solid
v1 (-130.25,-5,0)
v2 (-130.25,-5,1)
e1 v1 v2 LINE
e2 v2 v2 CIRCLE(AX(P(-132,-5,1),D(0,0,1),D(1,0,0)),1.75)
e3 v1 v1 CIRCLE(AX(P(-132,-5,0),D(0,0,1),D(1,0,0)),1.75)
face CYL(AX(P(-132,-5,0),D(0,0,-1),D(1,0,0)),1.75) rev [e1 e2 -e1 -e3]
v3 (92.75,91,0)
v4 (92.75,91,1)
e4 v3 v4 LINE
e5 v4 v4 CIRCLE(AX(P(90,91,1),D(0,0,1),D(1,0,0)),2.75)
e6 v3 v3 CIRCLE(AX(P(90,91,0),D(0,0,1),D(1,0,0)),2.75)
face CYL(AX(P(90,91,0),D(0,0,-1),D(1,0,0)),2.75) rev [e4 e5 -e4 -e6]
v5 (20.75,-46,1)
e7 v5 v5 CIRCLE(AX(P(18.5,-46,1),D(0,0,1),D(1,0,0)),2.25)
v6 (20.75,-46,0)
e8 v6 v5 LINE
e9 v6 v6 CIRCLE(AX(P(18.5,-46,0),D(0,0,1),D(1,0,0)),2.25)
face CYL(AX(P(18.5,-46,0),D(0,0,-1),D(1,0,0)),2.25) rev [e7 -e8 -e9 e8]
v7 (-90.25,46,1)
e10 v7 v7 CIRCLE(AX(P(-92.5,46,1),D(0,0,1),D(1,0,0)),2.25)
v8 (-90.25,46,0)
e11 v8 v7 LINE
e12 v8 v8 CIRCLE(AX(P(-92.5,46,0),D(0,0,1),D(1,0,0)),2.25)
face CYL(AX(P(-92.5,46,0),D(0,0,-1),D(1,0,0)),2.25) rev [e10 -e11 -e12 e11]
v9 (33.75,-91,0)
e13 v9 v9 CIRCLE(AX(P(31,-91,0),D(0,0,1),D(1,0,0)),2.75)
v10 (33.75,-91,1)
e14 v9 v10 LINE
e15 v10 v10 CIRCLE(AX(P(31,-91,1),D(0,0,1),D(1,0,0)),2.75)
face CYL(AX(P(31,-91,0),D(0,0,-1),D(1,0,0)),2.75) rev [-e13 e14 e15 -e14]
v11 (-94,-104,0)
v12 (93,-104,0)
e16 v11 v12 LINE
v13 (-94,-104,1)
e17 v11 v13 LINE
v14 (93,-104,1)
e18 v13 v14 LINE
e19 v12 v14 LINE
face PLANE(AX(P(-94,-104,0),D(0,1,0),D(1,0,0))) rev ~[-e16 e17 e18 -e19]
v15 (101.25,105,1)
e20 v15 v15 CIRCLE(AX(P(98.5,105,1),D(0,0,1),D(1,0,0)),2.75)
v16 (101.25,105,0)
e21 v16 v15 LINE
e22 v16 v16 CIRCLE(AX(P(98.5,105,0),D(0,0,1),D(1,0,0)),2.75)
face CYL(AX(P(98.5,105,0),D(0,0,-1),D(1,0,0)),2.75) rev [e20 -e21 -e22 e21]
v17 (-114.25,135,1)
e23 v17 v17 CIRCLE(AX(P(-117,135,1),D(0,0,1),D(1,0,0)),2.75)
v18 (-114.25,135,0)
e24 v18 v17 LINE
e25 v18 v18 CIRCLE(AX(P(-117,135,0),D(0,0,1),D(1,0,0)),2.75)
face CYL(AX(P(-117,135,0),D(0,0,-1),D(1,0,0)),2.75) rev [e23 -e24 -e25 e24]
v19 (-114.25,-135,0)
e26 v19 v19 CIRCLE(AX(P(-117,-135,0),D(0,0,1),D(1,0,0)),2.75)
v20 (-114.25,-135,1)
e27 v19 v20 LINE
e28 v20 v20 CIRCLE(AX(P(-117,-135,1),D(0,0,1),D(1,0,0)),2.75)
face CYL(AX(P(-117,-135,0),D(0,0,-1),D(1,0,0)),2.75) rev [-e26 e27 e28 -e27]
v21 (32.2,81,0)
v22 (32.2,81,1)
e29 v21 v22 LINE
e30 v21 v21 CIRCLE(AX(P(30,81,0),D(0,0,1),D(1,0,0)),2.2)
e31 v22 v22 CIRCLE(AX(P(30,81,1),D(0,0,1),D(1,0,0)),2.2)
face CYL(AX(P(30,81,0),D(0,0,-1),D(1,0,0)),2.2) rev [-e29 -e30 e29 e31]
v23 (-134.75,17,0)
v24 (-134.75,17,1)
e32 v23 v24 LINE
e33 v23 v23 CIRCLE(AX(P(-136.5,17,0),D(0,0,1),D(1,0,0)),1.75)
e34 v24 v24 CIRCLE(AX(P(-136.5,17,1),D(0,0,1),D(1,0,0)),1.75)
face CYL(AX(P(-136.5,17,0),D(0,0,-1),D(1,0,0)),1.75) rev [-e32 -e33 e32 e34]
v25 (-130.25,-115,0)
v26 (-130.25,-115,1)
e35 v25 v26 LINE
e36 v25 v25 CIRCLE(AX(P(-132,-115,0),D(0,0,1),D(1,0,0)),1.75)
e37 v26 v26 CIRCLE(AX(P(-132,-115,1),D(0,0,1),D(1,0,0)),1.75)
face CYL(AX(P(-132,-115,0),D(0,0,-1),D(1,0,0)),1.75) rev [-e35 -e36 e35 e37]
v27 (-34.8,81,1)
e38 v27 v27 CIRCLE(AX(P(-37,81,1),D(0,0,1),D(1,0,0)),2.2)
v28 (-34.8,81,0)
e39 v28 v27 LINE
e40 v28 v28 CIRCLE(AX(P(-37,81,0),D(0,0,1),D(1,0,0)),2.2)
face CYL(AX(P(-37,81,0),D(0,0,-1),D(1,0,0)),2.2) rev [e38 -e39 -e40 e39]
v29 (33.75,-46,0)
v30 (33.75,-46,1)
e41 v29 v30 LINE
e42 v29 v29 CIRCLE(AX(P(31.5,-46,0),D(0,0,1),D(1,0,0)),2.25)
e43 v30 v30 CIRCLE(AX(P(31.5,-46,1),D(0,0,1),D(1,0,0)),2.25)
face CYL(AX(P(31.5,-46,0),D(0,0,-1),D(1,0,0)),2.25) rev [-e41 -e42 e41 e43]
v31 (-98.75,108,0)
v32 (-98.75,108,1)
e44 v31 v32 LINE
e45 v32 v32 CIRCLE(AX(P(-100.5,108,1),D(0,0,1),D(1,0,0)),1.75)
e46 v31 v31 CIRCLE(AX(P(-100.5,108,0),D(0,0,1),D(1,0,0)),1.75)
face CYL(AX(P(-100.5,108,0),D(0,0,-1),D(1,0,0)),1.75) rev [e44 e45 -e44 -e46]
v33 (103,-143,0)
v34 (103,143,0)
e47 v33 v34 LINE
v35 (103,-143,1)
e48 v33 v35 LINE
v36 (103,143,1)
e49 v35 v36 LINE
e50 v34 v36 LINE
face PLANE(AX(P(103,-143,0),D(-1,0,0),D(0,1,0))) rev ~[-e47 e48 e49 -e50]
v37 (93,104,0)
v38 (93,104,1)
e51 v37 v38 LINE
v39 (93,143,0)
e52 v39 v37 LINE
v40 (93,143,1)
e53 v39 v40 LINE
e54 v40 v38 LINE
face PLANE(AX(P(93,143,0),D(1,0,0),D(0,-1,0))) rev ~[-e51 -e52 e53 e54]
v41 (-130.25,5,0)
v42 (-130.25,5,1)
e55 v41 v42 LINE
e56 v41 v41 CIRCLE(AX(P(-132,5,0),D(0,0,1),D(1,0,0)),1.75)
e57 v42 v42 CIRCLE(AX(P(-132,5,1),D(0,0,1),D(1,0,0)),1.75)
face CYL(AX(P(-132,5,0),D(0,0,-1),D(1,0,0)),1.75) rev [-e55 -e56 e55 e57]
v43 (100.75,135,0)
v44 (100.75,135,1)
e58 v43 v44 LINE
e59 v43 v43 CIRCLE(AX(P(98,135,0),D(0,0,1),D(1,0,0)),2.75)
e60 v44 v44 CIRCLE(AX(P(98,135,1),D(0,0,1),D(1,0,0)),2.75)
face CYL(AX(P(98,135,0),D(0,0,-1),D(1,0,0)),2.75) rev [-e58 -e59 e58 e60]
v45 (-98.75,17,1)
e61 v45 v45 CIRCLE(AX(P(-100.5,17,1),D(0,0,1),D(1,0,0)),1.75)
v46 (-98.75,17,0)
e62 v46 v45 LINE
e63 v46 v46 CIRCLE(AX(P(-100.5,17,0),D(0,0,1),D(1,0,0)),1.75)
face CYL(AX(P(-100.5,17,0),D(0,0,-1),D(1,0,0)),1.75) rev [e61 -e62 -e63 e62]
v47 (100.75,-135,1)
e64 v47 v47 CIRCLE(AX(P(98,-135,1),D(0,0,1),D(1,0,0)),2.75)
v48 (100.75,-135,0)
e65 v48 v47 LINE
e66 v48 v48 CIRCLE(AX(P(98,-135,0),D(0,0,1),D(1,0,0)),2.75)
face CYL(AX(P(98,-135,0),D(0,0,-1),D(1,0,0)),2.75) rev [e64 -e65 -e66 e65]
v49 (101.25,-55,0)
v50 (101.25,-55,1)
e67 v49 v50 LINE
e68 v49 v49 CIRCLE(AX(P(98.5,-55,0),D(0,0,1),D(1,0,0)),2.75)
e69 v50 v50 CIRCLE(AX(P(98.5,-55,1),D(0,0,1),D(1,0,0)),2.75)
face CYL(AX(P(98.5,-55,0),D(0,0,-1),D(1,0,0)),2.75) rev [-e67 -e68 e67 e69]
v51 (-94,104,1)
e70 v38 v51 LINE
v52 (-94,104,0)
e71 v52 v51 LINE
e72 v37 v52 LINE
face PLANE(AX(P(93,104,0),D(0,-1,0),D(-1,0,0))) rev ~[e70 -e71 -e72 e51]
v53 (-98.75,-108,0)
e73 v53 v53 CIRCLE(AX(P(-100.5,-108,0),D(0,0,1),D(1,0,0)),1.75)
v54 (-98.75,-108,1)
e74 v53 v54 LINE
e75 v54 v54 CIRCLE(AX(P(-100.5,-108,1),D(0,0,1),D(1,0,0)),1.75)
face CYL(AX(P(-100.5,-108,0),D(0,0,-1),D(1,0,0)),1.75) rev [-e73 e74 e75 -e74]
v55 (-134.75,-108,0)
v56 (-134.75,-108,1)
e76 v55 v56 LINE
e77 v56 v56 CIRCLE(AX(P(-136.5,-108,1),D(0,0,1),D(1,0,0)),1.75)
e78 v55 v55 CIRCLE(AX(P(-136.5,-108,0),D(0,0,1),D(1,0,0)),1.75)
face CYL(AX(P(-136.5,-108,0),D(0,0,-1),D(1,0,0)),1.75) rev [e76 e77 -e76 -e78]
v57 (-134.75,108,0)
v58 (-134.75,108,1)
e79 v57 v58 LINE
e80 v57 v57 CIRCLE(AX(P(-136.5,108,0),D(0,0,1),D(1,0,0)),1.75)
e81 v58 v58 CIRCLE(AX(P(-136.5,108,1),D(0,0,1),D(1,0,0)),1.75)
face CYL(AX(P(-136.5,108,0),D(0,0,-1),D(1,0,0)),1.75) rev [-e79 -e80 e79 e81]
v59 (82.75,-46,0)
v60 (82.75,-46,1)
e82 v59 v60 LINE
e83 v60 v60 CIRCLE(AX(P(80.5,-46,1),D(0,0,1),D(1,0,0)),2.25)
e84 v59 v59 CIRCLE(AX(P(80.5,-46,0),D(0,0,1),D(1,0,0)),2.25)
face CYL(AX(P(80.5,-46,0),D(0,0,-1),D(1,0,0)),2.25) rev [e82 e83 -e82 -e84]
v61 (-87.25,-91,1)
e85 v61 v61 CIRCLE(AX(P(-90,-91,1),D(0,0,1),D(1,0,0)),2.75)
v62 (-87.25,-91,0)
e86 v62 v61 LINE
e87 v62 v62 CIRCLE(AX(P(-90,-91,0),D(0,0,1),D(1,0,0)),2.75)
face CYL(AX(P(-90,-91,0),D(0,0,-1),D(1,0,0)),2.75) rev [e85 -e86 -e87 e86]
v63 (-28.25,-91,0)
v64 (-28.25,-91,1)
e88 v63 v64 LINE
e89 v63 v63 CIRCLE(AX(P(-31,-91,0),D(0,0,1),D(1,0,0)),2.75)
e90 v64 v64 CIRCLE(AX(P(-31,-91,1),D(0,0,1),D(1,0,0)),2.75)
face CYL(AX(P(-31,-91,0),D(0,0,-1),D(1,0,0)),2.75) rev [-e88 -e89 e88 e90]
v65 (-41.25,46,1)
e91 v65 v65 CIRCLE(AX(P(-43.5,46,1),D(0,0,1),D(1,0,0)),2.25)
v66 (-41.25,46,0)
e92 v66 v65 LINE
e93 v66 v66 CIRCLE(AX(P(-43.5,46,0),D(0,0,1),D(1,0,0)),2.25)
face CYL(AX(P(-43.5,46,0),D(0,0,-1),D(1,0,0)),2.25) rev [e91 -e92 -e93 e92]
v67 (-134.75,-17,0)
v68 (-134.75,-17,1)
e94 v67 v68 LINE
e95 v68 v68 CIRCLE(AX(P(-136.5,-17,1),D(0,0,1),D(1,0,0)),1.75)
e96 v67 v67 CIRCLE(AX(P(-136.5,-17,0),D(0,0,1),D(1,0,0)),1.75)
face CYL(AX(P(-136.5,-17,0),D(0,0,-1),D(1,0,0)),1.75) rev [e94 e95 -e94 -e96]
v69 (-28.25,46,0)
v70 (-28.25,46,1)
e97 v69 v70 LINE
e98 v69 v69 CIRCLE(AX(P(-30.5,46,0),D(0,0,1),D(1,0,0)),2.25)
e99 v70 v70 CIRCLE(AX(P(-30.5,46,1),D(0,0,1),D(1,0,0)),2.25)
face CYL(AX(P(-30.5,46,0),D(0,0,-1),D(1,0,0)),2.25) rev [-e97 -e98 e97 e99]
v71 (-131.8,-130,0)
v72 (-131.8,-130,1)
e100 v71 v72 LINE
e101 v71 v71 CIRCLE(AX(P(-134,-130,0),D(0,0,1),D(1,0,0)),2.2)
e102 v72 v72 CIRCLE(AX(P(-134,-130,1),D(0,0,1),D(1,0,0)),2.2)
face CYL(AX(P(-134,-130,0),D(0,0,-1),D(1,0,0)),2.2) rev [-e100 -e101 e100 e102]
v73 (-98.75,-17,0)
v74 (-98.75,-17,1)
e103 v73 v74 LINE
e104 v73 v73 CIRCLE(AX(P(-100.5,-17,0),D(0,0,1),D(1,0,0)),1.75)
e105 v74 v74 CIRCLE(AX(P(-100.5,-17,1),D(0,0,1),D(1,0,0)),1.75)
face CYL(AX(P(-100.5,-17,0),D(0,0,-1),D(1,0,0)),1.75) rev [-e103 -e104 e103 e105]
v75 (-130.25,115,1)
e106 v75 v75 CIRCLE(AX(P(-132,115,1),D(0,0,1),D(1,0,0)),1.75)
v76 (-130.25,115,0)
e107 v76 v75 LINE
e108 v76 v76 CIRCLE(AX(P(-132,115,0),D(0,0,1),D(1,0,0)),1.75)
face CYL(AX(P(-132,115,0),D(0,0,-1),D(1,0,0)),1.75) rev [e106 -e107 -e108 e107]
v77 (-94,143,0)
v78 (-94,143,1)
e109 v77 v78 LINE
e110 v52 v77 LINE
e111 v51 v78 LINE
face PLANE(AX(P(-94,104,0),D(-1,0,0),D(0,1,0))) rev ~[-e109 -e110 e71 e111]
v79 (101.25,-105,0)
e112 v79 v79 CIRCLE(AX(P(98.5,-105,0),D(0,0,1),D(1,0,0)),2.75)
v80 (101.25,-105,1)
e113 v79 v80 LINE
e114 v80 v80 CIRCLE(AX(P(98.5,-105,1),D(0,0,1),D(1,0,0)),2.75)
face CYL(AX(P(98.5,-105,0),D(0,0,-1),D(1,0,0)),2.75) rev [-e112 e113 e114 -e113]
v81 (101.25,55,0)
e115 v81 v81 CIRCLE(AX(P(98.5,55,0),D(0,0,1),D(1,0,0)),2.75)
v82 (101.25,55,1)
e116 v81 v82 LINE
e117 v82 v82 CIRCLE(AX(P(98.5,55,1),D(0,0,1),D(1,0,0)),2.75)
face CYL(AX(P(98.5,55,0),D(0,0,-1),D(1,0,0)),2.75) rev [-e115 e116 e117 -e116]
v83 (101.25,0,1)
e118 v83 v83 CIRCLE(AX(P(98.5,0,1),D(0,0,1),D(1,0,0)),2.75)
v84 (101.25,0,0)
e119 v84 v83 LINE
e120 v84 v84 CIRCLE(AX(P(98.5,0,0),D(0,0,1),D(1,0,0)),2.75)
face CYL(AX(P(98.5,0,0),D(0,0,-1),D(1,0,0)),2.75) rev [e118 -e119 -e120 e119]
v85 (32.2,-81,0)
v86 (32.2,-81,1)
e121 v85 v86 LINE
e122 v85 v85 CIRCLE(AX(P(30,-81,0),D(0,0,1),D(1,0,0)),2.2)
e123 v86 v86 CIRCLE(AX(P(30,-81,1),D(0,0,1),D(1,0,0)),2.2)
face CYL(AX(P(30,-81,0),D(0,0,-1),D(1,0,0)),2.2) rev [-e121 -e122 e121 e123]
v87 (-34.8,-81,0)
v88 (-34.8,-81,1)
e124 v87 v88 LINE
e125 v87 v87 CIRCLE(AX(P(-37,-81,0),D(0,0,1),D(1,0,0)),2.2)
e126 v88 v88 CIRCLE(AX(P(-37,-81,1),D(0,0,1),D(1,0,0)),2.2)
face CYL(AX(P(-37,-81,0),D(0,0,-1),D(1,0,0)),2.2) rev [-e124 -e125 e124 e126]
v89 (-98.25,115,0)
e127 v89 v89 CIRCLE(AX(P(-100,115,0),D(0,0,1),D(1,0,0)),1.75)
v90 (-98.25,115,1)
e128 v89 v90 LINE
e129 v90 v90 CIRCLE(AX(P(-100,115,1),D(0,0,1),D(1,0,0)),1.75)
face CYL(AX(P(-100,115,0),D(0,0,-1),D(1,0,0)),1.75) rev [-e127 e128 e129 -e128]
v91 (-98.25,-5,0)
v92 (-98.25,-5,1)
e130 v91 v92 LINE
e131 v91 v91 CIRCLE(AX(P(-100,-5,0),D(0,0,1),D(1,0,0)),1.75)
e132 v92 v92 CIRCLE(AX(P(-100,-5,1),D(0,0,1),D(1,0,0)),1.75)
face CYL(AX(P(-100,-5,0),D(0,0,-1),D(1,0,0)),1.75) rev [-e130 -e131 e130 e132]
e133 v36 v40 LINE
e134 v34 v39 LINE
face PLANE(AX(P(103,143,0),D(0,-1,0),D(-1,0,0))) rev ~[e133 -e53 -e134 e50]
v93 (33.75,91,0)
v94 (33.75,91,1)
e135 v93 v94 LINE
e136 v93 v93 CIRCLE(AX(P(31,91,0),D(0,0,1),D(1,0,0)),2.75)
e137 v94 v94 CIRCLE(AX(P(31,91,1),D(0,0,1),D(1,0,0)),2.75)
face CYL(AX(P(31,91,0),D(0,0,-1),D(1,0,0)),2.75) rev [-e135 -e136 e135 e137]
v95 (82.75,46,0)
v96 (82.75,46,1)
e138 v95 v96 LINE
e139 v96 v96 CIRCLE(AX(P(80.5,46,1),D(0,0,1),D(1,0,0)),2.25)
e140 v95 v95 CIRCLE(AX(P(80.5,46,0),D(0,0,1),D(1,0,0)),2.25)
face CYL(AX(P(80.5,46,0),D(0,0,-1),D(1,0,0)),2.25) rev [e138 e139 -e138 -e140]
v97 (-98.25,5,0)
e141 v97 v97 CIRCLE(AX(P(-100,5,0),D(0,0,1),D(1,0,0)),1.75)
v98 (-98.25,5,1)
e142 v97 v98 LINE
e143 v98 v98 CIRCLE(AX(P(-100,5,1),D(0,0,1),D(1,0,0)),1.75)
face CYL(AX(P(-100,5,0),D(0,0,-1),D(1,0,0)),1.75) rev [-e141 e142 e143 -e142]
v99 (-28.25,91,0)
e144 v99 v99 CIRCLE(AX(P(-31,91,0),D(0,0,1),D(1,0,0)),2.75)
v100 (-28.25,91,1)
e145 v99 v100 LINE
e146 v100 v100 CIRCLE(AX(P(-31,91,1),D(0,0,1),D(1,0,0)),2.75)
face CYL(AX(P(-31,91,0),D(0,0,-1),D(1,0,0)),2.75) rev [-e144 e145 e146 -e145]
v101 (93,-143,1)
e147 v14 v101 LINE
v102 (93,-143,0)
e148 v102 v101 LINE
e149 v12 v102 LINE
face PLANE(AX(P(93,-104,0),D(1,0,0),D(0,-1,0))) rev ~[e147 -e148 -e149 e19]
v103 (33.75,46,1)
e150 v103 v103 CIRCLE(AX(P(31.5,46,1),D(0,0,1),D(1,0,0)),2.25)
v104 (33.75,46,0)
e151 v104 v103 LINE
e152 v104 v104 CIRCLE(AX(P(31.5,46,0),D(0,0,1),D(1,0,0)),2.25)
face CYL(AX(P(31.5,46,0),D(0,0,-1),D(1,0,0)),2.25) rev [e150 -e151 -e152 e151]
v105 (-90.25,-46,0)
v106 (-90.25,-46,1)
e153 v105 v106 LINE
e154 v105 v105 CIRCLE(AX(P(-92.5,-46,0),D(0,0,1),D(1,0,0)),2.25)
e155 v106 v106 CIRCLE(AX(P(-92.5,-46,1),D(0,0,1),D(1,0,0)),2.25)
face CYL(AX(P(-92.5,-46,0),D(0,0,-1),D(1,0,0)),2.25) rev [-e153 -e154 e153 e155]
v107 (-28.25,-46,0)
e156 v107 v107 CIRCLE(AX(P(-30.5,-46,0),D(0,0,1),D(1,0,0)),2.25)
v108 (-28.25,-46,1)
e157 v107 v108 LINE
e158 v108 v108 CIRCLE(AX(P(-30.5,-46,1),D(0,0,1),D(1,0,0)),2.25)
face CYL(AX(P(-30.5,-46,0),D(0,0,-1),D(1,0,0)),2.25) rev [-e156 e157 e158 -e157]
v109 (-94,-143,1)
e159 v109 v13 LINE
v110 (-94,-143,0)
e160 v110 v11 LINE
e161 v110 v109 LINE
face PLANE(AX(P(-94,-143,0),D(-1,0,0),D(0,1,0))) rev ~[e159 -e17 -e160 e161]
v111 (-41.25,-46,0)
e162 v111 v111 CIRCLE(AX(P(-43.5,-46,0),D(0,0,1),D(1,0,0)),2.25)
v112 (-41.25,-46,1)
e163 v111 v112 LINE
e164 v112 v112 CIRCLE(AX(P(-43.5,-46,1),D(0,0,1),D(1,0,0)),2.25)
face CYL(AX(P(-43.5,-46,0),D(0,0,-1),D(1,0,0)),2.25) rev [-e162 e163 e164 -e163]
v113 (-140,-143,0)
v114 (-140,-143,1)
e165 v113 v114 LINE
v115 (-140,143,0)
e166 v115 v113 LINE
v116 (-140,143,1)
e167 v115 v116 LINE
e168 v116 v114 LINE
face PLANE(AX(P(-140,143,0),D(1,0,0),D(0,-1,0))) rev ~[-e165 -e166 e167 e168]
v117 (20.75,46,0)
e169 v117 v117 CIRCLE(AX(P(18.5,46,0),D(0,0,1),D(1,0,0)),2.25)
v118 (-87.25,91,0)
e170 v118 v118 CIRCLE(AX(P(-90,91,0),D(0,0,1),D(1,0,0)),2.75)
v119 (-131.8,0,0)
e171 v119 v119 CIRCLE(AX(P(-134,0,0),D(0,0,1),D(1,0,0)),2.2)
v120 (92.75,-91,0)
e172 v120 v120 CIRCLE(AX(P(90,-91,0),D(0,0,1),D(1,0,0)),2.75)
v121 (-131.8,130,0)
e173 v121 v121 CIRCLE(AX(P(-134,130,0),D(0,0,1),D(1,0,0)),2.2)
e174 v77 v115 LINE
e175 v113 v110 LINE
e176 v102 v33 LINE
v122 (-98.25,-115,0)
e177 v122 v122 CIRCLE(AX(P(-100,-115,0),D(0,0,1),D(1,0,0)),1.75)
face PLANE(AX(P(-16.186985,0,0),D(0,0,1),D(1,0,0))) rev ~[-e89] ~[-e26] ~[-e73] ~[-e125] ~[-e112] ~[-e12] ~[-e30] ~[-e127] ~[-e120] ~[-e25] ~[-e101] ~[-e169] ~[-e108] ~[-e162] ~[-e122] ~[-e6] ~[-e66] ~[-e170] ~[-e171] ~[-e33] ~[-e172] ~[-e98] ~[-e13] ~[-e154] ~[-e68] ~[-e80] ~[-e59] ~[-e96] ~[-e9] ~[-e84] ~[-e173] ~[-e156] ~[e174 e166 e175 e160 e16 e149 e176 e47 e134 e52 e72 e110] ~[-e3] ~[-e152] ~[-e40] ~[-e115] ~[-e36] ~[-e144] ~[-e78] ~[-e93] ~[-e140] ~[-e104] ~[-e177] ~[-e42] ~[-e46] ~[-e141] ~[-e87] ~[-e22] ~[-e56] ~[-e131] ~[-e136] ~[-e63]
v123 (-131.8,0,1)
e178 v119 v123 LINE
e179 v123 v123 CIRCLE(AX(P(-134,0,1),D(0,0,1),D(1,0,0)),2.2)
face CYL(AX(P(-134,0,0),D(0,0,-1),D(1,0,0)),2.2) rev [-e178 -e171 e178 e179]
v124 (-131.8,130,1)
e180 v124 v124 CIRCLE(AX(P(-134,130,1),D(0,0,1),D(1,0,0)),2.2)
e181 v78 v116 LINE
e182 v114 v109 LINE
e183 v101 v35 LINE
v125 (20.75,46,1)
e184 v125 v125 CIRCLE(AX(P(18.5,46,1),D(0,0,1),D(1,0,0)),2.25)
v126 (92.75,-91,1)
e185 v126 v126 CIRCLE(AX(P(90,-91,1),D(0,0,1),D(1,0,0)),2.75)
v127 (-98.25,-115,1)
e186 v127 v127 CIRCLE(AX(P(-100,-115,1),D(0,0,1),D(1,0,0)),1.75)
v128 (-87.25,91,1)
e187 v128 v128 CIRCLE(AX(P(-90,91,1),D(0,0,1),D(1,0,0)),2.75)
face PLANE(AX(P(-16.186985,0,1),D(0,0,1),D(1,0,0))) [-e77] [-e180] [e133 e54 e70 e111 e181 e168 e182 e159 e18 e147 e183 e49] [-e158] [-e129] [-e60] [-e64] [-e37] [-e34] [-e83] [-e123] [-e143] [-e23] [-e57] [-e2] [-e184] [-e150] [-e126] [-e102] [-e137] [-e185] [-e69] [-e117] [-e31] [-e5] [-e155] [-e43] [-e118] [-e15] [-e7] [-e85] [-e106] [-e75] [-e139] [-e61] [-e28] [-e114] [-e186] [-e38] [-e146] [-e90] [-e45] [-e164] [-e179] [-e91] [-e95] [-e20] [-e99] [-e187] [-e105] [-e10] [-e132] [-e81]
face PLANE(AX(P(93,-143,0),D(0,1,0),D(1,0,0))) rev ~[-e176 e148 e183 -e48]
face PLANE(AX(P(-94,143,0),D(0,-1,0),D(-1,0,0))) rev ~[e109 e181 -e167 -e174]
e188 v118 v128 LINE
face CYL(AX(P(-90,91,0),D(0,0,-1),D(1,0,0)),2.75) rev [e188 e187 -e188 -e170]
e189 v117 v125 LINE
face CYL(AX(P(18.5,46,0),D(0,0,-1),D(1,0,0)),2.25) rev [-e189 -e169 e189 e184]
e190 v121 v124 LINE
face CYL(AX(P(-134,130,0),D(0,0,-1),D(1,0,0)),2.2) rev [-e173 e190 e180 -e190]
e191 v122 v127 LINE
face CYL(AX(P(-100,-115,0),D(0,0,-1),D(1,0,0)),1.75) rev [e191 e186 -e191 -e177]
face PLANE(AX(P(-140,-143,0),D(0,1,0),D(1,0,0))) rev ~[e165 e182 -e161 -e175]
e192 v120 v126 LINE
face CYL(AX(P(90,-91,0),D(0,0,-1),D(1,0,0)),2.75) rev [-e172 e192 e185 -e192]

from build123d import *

# Parameters (mm, degrees)
FLOOR_MOUNT_AND_JOINT_HOLES_PROFILE_R   = 2.75
FLOOR_MOUNT_AND_JOINT_HOLES_PROFILE_R_2 = 1.75
FLOOR_MOUNT_AND_JOINT_HOLES_PROFILE_R_3 = 2.25
FLOOR_MOUNT_AND_JOINT_HOLES_PROFILE_R_4 = 2.2
FLOOR_MOUNT_AND_JOINT_HOLES_DEPTH       = 1


with BuildPart() as part:
    # Floor, mount and joint holes profile → Floor, mount and joint holes (new body)
    with BuildSketch(Plane.XY):
        Polygon((-140, -143), (-94, -143), (-94, -104), (93, -104), (93, -143), (103, -143), (103, 143), (93, 143), (93, 104), (-94, 104), (-94, 143), (-140, 143), align=None)
        with Locations((-90, -91)):
            Circle(FLOOR_MOUNT_AND_JOINT_HOLES_PROFILE_R, mode=Mode.SUBTRACT)
        with Locations((-90, 91)):
            Circle(FLOOR_MOUNT_AND_JOINT_HOLES_PROFILE_R, mode=Mode.SUBTRACT)
        with Locations((-31, -91)):
            Circle(FLOOR_MOUNT_AND_JOINT_HOLES_PROFILE_R, mode=Mode.SUBTRACT)
        with Locations((-31, 91)):
            Circle(FLOOR_MOUNT_AND_JOINT_HOLES_PROFILE_R, mode=Mode.SUBTRACT)
        with Locations((31, -91)):
            Circle(FLOOR_MOUNT_AND_JOINT_HOLES_PROFILE_R, mode=Mode.SUBTRACT)
        with Locations((31, 91)):
            Circle(FLOOR_MOUNT_AND_JOINT_HOLES_PROFILE_R, mode=Mode.SUBTRACT)
        with Locations((90, -91)):
            Circle(FLOOR_MOUNT_AND_JOINT_HOLES_PROFILE_R, mode=Mode.SUBTRACT)
        with Locations((90, 91)):
            Circle(FLOOR_MOUNT_AND_JOINT_HOLES_PROFILE_R, mode=Mode.SUBTRACT)
        with Locations((-136.5, -108)):
            Circle(FLOOR_MOUNT_AND_JOINT_HOLES_PROFILE_R_2, mode=Mode.SUBTRACT)
        with Locations((-136.5, -17)):
            Circle(FLOOR_MOUNT_AND_JOINT_HOLES_PROFILE_R_2, mode=Mode.SUBTRACT)
        with Locations((-136.5, 17)):
            Circle(FLOOR_MOUNT_AND_JOINT_HOLES_PROFILE_R_2, mode=Mode.SUBTRACT)
        with Locations((-136.5, 108)):
            Circle(FLOOR_MOUNT_AND_JOINT_HOLES_PROFILE_R_2, mode=Mode.SUBTRACT)
        with Locations((-100.5, -108)):
            Circle(FLOOR_MOUNT_AND_JOINT_HOLES_PROFILE_R_2, mode=Mode.SUBTRACT)
        with Locations((-100.5, -17)):
            Circle(FLOOR_MOUNT_AND_JOINT_HOLES_PROFILE_R_2, mode=Mode.SUBTRACT)
        with Locations((-100.5, 17)):
            Circle(FLOOR_MOUNT_AND_JOINT_HOLES_PROFILE_R_2, mode=Mode.SUBTRACT)
        with Locations((-100.5, 108)):
            Circle(FLOOR_MOUNT_AND_JOINT_HOLES_PROFILE_R_2, mode=Mode.SUBTRACT)
        with Locations((-92.5, -46)):
            Circle(FLOOR_MOUNT_AND_JOINT_HOLES_PROFILE_R_3, mode=Mode.SUBTRACT)
        with Locations((-92.5, 46)):
            Circle(FLOOR_MOUNT_AND_JOINT_HOLES_PROFILE_R_3, mode=Mode.SUBTRACT)
        with Locations((-43.5, -46)):
            Circle(FLOOR_MOUNT_AND_JOINT_HOLES_PROFILE_R_3, mode=Mode.SUBTRACT)
        with Locations((-43.5, 46)):
            Circle(FLOOR_MOUNT_AND_JOINT_HOLES_PROFILE_R_3, mode=Mode.SUBTRACT)
        with Locations((-30.5, -46)):
            Circle(FLOOR_MOUNT_AND_JOINT_HOLES_PROFILE_R_3, mode=Mode.SUBTRACT)
        with Locations((-30.5, 46)):
            Circle(FLOOR_MOUNT_AND_JOINT_HOLES_PROFILE_R_3, mode=Mode.SUBTRACT)
        with Locations((18.5, -46)):
            Circle(FLOOR_MOUNT_AND_JOINT_HOLES_PROFILE_R_3, mode=Mode.SUBTRACT)
        with Locations((18.5, 46)):
            Circle(FLOOR_MOUNT_AND_JOINT_HOLES_PROFILE_R_3, mode=Mode.SUBTRACT)
        with Locations((31.5, -46)):
            Circle(FLOOR_MOUNT_AND_JOINT_HOLES_PROFILE_R_3, mode=Mode.SUBTRACT)
        with Locations((31.5, 46)):
            Circle(FLOOR_MOUNT_AND_JOINT_HOLES_PROFILE_R_3, mode=Mode.SUBTRACT)
        with Locations((80.5, -46)):
            Circle(FLOOR_MOUNT_AND_JOINT_HOLES_PROFILE_R_3, mode=Mode.SUBTRACT)
        with Locations((80.5, 46)):
            Circle(FLOOR_MOUNT_AND_JOINT_HOLES_PROFILE_R_3, mode=Mode.SUBTRACT)
        with Locations((-117, -135)):
            Circle(FLOOR_MOUNT_AND_JOINT_HOLES_PROFILE_R, mode=Mode.SUBTRACT)
        with Locations((-117, 135)):
            Circle(FLOOR_MOUNT_AND_JOINT_HOLES_PROFILE_R, mode=Mode.SUBTRACT)
        with Locations((98, -135)):
            Circle(FLOOR_MOUNT_AND_JOINT_HOLES_PROFILE_R, mode=Mode.SUBTRACT)
        with Locations((98, 135)):
            Circle(FLOOR_MOUNT_AND_JOINT_HOLES_PROFILE_R, mode=Mode.SUBTRACT)
        with Locations((98.5, -105)):
            Circle(FLOOR_MOUNT_AND_JOINT_HOLES_PROFILE_R, mode=Mode.SUBTRACT)
        with Locations((98.5, -55)):
            Circle(FLOOR_MOUNT_AND_JOINT_HOLES_PROFILE_R, mode=Mode.SUBTRACT)
        with Locations((98.5, 0)):
            Circle(FLOOR_MOUNT_AND_JOINT_HOLES_PROFILE_R, mode=Mode.SUBTRACT)
        with Locations((98.5, 55)):
            Circle(FLOOR_MOUNT_AND_JOINT_HOLES_PROFILE_R, mode=Mode.SUBTRACT)
        with Locations((98.5, 105)):
            Circle(FLOOR_MOUNT_AND_JOINT_HOLES_PROFILE_R, mode=Mode.SUBTRACT)
        with Locations((-134, -130)):
            Circle(FLOOR_MOUNT_AND_JOINT_HOLES_PROFILE_R_4, mode=Mode.SUBTRACT)
        with Locations((-134, 0)):
            Circle(FLOOR_MOUNT_AND_JOINT_HOLES_PROFILE_R_4, mode=Mode.SUBTRACT)
        with Locations((-134, 130)):
            Circle(FLOOR_MOUNT_AND_JOINT_HOLES_PROFILE_R_4, mode=Mode.SUBTRACT)
        with Locations((-37, -81)):
            Circle(FLOOR_MOUNT_AND_JOINT_HOLES_PROFILE_R_4, mode=Mode.SUBTRACT)
        with Locations((-37, 81)):
            Circle(FLOOR_MOUNT_AND_JOINT_HOLES_PROFILE_R_4, mode=Mode.SUBTRACT)
        with Locations((30, -81)):
            Circle(FLOOR_MOUNT_AND_JOINT_HOLES_PROFILE_R_4, mode=Mode.SUBTRACT)
        with Locations((30, 81)):
            Circle(FLOOR_MOUNT_AND_JOINT_HOLES_PROFILE_R_4, mode=Mode.SUBTRACT)
        with Locations((-132, -115)):
            Circle(FLOOR_MOUNT_AND_JOINT_HOLES_PROFILE_R_2, mode=Mode.SUBTRACT)
        with Locations((-132, -5)):
            Circle(FLOOR_MOUNT_AND_JOINT_HOLES_PROFILE_R_2, mode=Mode.SUBTRACT)
        with Locations((-132, 5)):
            Circle(FLOOR_MOUNT_AND_JOINT_HOLES_PROFILE_R_2, mode=Mode.SUBTRACT)
        with Locations((-132, 115)):
            Circle(FLOOR_MOUNT_AND_JOINT_HOLES_PROFILE_R_2, mode=Mode.SUBTRACT)
        with Locations((-100, -115)):
            Circle(FLOOR_MOUNT_AND_JOINT_HOLES_PROFILE_R_2, mode=Mode.SUBTRACT)
        with Locations((-100, -5)):
            Circle(FLOOR_MOUNT_AND_JOINT_HOLES_PROFILE_R_2, mode=Mode.SUBTRACT)
        with Locations((-100, 5)):
            Circle(FLOOR_MOUNT_AND_JOINT_HOLES_PROFILE_R_2, mode=Mode.SUBTRACT)
        with Locations((-100, 115)):
            Circle(FLOOR_MOUNT_AND_JOINT_HOLES_PROFILE_R_2, mode=Mode.SUBTRACT)
    extrude(amount=FLOOR_MOUNT_AND_JOINT_HOLES_DEPTH)


solid = part.part
